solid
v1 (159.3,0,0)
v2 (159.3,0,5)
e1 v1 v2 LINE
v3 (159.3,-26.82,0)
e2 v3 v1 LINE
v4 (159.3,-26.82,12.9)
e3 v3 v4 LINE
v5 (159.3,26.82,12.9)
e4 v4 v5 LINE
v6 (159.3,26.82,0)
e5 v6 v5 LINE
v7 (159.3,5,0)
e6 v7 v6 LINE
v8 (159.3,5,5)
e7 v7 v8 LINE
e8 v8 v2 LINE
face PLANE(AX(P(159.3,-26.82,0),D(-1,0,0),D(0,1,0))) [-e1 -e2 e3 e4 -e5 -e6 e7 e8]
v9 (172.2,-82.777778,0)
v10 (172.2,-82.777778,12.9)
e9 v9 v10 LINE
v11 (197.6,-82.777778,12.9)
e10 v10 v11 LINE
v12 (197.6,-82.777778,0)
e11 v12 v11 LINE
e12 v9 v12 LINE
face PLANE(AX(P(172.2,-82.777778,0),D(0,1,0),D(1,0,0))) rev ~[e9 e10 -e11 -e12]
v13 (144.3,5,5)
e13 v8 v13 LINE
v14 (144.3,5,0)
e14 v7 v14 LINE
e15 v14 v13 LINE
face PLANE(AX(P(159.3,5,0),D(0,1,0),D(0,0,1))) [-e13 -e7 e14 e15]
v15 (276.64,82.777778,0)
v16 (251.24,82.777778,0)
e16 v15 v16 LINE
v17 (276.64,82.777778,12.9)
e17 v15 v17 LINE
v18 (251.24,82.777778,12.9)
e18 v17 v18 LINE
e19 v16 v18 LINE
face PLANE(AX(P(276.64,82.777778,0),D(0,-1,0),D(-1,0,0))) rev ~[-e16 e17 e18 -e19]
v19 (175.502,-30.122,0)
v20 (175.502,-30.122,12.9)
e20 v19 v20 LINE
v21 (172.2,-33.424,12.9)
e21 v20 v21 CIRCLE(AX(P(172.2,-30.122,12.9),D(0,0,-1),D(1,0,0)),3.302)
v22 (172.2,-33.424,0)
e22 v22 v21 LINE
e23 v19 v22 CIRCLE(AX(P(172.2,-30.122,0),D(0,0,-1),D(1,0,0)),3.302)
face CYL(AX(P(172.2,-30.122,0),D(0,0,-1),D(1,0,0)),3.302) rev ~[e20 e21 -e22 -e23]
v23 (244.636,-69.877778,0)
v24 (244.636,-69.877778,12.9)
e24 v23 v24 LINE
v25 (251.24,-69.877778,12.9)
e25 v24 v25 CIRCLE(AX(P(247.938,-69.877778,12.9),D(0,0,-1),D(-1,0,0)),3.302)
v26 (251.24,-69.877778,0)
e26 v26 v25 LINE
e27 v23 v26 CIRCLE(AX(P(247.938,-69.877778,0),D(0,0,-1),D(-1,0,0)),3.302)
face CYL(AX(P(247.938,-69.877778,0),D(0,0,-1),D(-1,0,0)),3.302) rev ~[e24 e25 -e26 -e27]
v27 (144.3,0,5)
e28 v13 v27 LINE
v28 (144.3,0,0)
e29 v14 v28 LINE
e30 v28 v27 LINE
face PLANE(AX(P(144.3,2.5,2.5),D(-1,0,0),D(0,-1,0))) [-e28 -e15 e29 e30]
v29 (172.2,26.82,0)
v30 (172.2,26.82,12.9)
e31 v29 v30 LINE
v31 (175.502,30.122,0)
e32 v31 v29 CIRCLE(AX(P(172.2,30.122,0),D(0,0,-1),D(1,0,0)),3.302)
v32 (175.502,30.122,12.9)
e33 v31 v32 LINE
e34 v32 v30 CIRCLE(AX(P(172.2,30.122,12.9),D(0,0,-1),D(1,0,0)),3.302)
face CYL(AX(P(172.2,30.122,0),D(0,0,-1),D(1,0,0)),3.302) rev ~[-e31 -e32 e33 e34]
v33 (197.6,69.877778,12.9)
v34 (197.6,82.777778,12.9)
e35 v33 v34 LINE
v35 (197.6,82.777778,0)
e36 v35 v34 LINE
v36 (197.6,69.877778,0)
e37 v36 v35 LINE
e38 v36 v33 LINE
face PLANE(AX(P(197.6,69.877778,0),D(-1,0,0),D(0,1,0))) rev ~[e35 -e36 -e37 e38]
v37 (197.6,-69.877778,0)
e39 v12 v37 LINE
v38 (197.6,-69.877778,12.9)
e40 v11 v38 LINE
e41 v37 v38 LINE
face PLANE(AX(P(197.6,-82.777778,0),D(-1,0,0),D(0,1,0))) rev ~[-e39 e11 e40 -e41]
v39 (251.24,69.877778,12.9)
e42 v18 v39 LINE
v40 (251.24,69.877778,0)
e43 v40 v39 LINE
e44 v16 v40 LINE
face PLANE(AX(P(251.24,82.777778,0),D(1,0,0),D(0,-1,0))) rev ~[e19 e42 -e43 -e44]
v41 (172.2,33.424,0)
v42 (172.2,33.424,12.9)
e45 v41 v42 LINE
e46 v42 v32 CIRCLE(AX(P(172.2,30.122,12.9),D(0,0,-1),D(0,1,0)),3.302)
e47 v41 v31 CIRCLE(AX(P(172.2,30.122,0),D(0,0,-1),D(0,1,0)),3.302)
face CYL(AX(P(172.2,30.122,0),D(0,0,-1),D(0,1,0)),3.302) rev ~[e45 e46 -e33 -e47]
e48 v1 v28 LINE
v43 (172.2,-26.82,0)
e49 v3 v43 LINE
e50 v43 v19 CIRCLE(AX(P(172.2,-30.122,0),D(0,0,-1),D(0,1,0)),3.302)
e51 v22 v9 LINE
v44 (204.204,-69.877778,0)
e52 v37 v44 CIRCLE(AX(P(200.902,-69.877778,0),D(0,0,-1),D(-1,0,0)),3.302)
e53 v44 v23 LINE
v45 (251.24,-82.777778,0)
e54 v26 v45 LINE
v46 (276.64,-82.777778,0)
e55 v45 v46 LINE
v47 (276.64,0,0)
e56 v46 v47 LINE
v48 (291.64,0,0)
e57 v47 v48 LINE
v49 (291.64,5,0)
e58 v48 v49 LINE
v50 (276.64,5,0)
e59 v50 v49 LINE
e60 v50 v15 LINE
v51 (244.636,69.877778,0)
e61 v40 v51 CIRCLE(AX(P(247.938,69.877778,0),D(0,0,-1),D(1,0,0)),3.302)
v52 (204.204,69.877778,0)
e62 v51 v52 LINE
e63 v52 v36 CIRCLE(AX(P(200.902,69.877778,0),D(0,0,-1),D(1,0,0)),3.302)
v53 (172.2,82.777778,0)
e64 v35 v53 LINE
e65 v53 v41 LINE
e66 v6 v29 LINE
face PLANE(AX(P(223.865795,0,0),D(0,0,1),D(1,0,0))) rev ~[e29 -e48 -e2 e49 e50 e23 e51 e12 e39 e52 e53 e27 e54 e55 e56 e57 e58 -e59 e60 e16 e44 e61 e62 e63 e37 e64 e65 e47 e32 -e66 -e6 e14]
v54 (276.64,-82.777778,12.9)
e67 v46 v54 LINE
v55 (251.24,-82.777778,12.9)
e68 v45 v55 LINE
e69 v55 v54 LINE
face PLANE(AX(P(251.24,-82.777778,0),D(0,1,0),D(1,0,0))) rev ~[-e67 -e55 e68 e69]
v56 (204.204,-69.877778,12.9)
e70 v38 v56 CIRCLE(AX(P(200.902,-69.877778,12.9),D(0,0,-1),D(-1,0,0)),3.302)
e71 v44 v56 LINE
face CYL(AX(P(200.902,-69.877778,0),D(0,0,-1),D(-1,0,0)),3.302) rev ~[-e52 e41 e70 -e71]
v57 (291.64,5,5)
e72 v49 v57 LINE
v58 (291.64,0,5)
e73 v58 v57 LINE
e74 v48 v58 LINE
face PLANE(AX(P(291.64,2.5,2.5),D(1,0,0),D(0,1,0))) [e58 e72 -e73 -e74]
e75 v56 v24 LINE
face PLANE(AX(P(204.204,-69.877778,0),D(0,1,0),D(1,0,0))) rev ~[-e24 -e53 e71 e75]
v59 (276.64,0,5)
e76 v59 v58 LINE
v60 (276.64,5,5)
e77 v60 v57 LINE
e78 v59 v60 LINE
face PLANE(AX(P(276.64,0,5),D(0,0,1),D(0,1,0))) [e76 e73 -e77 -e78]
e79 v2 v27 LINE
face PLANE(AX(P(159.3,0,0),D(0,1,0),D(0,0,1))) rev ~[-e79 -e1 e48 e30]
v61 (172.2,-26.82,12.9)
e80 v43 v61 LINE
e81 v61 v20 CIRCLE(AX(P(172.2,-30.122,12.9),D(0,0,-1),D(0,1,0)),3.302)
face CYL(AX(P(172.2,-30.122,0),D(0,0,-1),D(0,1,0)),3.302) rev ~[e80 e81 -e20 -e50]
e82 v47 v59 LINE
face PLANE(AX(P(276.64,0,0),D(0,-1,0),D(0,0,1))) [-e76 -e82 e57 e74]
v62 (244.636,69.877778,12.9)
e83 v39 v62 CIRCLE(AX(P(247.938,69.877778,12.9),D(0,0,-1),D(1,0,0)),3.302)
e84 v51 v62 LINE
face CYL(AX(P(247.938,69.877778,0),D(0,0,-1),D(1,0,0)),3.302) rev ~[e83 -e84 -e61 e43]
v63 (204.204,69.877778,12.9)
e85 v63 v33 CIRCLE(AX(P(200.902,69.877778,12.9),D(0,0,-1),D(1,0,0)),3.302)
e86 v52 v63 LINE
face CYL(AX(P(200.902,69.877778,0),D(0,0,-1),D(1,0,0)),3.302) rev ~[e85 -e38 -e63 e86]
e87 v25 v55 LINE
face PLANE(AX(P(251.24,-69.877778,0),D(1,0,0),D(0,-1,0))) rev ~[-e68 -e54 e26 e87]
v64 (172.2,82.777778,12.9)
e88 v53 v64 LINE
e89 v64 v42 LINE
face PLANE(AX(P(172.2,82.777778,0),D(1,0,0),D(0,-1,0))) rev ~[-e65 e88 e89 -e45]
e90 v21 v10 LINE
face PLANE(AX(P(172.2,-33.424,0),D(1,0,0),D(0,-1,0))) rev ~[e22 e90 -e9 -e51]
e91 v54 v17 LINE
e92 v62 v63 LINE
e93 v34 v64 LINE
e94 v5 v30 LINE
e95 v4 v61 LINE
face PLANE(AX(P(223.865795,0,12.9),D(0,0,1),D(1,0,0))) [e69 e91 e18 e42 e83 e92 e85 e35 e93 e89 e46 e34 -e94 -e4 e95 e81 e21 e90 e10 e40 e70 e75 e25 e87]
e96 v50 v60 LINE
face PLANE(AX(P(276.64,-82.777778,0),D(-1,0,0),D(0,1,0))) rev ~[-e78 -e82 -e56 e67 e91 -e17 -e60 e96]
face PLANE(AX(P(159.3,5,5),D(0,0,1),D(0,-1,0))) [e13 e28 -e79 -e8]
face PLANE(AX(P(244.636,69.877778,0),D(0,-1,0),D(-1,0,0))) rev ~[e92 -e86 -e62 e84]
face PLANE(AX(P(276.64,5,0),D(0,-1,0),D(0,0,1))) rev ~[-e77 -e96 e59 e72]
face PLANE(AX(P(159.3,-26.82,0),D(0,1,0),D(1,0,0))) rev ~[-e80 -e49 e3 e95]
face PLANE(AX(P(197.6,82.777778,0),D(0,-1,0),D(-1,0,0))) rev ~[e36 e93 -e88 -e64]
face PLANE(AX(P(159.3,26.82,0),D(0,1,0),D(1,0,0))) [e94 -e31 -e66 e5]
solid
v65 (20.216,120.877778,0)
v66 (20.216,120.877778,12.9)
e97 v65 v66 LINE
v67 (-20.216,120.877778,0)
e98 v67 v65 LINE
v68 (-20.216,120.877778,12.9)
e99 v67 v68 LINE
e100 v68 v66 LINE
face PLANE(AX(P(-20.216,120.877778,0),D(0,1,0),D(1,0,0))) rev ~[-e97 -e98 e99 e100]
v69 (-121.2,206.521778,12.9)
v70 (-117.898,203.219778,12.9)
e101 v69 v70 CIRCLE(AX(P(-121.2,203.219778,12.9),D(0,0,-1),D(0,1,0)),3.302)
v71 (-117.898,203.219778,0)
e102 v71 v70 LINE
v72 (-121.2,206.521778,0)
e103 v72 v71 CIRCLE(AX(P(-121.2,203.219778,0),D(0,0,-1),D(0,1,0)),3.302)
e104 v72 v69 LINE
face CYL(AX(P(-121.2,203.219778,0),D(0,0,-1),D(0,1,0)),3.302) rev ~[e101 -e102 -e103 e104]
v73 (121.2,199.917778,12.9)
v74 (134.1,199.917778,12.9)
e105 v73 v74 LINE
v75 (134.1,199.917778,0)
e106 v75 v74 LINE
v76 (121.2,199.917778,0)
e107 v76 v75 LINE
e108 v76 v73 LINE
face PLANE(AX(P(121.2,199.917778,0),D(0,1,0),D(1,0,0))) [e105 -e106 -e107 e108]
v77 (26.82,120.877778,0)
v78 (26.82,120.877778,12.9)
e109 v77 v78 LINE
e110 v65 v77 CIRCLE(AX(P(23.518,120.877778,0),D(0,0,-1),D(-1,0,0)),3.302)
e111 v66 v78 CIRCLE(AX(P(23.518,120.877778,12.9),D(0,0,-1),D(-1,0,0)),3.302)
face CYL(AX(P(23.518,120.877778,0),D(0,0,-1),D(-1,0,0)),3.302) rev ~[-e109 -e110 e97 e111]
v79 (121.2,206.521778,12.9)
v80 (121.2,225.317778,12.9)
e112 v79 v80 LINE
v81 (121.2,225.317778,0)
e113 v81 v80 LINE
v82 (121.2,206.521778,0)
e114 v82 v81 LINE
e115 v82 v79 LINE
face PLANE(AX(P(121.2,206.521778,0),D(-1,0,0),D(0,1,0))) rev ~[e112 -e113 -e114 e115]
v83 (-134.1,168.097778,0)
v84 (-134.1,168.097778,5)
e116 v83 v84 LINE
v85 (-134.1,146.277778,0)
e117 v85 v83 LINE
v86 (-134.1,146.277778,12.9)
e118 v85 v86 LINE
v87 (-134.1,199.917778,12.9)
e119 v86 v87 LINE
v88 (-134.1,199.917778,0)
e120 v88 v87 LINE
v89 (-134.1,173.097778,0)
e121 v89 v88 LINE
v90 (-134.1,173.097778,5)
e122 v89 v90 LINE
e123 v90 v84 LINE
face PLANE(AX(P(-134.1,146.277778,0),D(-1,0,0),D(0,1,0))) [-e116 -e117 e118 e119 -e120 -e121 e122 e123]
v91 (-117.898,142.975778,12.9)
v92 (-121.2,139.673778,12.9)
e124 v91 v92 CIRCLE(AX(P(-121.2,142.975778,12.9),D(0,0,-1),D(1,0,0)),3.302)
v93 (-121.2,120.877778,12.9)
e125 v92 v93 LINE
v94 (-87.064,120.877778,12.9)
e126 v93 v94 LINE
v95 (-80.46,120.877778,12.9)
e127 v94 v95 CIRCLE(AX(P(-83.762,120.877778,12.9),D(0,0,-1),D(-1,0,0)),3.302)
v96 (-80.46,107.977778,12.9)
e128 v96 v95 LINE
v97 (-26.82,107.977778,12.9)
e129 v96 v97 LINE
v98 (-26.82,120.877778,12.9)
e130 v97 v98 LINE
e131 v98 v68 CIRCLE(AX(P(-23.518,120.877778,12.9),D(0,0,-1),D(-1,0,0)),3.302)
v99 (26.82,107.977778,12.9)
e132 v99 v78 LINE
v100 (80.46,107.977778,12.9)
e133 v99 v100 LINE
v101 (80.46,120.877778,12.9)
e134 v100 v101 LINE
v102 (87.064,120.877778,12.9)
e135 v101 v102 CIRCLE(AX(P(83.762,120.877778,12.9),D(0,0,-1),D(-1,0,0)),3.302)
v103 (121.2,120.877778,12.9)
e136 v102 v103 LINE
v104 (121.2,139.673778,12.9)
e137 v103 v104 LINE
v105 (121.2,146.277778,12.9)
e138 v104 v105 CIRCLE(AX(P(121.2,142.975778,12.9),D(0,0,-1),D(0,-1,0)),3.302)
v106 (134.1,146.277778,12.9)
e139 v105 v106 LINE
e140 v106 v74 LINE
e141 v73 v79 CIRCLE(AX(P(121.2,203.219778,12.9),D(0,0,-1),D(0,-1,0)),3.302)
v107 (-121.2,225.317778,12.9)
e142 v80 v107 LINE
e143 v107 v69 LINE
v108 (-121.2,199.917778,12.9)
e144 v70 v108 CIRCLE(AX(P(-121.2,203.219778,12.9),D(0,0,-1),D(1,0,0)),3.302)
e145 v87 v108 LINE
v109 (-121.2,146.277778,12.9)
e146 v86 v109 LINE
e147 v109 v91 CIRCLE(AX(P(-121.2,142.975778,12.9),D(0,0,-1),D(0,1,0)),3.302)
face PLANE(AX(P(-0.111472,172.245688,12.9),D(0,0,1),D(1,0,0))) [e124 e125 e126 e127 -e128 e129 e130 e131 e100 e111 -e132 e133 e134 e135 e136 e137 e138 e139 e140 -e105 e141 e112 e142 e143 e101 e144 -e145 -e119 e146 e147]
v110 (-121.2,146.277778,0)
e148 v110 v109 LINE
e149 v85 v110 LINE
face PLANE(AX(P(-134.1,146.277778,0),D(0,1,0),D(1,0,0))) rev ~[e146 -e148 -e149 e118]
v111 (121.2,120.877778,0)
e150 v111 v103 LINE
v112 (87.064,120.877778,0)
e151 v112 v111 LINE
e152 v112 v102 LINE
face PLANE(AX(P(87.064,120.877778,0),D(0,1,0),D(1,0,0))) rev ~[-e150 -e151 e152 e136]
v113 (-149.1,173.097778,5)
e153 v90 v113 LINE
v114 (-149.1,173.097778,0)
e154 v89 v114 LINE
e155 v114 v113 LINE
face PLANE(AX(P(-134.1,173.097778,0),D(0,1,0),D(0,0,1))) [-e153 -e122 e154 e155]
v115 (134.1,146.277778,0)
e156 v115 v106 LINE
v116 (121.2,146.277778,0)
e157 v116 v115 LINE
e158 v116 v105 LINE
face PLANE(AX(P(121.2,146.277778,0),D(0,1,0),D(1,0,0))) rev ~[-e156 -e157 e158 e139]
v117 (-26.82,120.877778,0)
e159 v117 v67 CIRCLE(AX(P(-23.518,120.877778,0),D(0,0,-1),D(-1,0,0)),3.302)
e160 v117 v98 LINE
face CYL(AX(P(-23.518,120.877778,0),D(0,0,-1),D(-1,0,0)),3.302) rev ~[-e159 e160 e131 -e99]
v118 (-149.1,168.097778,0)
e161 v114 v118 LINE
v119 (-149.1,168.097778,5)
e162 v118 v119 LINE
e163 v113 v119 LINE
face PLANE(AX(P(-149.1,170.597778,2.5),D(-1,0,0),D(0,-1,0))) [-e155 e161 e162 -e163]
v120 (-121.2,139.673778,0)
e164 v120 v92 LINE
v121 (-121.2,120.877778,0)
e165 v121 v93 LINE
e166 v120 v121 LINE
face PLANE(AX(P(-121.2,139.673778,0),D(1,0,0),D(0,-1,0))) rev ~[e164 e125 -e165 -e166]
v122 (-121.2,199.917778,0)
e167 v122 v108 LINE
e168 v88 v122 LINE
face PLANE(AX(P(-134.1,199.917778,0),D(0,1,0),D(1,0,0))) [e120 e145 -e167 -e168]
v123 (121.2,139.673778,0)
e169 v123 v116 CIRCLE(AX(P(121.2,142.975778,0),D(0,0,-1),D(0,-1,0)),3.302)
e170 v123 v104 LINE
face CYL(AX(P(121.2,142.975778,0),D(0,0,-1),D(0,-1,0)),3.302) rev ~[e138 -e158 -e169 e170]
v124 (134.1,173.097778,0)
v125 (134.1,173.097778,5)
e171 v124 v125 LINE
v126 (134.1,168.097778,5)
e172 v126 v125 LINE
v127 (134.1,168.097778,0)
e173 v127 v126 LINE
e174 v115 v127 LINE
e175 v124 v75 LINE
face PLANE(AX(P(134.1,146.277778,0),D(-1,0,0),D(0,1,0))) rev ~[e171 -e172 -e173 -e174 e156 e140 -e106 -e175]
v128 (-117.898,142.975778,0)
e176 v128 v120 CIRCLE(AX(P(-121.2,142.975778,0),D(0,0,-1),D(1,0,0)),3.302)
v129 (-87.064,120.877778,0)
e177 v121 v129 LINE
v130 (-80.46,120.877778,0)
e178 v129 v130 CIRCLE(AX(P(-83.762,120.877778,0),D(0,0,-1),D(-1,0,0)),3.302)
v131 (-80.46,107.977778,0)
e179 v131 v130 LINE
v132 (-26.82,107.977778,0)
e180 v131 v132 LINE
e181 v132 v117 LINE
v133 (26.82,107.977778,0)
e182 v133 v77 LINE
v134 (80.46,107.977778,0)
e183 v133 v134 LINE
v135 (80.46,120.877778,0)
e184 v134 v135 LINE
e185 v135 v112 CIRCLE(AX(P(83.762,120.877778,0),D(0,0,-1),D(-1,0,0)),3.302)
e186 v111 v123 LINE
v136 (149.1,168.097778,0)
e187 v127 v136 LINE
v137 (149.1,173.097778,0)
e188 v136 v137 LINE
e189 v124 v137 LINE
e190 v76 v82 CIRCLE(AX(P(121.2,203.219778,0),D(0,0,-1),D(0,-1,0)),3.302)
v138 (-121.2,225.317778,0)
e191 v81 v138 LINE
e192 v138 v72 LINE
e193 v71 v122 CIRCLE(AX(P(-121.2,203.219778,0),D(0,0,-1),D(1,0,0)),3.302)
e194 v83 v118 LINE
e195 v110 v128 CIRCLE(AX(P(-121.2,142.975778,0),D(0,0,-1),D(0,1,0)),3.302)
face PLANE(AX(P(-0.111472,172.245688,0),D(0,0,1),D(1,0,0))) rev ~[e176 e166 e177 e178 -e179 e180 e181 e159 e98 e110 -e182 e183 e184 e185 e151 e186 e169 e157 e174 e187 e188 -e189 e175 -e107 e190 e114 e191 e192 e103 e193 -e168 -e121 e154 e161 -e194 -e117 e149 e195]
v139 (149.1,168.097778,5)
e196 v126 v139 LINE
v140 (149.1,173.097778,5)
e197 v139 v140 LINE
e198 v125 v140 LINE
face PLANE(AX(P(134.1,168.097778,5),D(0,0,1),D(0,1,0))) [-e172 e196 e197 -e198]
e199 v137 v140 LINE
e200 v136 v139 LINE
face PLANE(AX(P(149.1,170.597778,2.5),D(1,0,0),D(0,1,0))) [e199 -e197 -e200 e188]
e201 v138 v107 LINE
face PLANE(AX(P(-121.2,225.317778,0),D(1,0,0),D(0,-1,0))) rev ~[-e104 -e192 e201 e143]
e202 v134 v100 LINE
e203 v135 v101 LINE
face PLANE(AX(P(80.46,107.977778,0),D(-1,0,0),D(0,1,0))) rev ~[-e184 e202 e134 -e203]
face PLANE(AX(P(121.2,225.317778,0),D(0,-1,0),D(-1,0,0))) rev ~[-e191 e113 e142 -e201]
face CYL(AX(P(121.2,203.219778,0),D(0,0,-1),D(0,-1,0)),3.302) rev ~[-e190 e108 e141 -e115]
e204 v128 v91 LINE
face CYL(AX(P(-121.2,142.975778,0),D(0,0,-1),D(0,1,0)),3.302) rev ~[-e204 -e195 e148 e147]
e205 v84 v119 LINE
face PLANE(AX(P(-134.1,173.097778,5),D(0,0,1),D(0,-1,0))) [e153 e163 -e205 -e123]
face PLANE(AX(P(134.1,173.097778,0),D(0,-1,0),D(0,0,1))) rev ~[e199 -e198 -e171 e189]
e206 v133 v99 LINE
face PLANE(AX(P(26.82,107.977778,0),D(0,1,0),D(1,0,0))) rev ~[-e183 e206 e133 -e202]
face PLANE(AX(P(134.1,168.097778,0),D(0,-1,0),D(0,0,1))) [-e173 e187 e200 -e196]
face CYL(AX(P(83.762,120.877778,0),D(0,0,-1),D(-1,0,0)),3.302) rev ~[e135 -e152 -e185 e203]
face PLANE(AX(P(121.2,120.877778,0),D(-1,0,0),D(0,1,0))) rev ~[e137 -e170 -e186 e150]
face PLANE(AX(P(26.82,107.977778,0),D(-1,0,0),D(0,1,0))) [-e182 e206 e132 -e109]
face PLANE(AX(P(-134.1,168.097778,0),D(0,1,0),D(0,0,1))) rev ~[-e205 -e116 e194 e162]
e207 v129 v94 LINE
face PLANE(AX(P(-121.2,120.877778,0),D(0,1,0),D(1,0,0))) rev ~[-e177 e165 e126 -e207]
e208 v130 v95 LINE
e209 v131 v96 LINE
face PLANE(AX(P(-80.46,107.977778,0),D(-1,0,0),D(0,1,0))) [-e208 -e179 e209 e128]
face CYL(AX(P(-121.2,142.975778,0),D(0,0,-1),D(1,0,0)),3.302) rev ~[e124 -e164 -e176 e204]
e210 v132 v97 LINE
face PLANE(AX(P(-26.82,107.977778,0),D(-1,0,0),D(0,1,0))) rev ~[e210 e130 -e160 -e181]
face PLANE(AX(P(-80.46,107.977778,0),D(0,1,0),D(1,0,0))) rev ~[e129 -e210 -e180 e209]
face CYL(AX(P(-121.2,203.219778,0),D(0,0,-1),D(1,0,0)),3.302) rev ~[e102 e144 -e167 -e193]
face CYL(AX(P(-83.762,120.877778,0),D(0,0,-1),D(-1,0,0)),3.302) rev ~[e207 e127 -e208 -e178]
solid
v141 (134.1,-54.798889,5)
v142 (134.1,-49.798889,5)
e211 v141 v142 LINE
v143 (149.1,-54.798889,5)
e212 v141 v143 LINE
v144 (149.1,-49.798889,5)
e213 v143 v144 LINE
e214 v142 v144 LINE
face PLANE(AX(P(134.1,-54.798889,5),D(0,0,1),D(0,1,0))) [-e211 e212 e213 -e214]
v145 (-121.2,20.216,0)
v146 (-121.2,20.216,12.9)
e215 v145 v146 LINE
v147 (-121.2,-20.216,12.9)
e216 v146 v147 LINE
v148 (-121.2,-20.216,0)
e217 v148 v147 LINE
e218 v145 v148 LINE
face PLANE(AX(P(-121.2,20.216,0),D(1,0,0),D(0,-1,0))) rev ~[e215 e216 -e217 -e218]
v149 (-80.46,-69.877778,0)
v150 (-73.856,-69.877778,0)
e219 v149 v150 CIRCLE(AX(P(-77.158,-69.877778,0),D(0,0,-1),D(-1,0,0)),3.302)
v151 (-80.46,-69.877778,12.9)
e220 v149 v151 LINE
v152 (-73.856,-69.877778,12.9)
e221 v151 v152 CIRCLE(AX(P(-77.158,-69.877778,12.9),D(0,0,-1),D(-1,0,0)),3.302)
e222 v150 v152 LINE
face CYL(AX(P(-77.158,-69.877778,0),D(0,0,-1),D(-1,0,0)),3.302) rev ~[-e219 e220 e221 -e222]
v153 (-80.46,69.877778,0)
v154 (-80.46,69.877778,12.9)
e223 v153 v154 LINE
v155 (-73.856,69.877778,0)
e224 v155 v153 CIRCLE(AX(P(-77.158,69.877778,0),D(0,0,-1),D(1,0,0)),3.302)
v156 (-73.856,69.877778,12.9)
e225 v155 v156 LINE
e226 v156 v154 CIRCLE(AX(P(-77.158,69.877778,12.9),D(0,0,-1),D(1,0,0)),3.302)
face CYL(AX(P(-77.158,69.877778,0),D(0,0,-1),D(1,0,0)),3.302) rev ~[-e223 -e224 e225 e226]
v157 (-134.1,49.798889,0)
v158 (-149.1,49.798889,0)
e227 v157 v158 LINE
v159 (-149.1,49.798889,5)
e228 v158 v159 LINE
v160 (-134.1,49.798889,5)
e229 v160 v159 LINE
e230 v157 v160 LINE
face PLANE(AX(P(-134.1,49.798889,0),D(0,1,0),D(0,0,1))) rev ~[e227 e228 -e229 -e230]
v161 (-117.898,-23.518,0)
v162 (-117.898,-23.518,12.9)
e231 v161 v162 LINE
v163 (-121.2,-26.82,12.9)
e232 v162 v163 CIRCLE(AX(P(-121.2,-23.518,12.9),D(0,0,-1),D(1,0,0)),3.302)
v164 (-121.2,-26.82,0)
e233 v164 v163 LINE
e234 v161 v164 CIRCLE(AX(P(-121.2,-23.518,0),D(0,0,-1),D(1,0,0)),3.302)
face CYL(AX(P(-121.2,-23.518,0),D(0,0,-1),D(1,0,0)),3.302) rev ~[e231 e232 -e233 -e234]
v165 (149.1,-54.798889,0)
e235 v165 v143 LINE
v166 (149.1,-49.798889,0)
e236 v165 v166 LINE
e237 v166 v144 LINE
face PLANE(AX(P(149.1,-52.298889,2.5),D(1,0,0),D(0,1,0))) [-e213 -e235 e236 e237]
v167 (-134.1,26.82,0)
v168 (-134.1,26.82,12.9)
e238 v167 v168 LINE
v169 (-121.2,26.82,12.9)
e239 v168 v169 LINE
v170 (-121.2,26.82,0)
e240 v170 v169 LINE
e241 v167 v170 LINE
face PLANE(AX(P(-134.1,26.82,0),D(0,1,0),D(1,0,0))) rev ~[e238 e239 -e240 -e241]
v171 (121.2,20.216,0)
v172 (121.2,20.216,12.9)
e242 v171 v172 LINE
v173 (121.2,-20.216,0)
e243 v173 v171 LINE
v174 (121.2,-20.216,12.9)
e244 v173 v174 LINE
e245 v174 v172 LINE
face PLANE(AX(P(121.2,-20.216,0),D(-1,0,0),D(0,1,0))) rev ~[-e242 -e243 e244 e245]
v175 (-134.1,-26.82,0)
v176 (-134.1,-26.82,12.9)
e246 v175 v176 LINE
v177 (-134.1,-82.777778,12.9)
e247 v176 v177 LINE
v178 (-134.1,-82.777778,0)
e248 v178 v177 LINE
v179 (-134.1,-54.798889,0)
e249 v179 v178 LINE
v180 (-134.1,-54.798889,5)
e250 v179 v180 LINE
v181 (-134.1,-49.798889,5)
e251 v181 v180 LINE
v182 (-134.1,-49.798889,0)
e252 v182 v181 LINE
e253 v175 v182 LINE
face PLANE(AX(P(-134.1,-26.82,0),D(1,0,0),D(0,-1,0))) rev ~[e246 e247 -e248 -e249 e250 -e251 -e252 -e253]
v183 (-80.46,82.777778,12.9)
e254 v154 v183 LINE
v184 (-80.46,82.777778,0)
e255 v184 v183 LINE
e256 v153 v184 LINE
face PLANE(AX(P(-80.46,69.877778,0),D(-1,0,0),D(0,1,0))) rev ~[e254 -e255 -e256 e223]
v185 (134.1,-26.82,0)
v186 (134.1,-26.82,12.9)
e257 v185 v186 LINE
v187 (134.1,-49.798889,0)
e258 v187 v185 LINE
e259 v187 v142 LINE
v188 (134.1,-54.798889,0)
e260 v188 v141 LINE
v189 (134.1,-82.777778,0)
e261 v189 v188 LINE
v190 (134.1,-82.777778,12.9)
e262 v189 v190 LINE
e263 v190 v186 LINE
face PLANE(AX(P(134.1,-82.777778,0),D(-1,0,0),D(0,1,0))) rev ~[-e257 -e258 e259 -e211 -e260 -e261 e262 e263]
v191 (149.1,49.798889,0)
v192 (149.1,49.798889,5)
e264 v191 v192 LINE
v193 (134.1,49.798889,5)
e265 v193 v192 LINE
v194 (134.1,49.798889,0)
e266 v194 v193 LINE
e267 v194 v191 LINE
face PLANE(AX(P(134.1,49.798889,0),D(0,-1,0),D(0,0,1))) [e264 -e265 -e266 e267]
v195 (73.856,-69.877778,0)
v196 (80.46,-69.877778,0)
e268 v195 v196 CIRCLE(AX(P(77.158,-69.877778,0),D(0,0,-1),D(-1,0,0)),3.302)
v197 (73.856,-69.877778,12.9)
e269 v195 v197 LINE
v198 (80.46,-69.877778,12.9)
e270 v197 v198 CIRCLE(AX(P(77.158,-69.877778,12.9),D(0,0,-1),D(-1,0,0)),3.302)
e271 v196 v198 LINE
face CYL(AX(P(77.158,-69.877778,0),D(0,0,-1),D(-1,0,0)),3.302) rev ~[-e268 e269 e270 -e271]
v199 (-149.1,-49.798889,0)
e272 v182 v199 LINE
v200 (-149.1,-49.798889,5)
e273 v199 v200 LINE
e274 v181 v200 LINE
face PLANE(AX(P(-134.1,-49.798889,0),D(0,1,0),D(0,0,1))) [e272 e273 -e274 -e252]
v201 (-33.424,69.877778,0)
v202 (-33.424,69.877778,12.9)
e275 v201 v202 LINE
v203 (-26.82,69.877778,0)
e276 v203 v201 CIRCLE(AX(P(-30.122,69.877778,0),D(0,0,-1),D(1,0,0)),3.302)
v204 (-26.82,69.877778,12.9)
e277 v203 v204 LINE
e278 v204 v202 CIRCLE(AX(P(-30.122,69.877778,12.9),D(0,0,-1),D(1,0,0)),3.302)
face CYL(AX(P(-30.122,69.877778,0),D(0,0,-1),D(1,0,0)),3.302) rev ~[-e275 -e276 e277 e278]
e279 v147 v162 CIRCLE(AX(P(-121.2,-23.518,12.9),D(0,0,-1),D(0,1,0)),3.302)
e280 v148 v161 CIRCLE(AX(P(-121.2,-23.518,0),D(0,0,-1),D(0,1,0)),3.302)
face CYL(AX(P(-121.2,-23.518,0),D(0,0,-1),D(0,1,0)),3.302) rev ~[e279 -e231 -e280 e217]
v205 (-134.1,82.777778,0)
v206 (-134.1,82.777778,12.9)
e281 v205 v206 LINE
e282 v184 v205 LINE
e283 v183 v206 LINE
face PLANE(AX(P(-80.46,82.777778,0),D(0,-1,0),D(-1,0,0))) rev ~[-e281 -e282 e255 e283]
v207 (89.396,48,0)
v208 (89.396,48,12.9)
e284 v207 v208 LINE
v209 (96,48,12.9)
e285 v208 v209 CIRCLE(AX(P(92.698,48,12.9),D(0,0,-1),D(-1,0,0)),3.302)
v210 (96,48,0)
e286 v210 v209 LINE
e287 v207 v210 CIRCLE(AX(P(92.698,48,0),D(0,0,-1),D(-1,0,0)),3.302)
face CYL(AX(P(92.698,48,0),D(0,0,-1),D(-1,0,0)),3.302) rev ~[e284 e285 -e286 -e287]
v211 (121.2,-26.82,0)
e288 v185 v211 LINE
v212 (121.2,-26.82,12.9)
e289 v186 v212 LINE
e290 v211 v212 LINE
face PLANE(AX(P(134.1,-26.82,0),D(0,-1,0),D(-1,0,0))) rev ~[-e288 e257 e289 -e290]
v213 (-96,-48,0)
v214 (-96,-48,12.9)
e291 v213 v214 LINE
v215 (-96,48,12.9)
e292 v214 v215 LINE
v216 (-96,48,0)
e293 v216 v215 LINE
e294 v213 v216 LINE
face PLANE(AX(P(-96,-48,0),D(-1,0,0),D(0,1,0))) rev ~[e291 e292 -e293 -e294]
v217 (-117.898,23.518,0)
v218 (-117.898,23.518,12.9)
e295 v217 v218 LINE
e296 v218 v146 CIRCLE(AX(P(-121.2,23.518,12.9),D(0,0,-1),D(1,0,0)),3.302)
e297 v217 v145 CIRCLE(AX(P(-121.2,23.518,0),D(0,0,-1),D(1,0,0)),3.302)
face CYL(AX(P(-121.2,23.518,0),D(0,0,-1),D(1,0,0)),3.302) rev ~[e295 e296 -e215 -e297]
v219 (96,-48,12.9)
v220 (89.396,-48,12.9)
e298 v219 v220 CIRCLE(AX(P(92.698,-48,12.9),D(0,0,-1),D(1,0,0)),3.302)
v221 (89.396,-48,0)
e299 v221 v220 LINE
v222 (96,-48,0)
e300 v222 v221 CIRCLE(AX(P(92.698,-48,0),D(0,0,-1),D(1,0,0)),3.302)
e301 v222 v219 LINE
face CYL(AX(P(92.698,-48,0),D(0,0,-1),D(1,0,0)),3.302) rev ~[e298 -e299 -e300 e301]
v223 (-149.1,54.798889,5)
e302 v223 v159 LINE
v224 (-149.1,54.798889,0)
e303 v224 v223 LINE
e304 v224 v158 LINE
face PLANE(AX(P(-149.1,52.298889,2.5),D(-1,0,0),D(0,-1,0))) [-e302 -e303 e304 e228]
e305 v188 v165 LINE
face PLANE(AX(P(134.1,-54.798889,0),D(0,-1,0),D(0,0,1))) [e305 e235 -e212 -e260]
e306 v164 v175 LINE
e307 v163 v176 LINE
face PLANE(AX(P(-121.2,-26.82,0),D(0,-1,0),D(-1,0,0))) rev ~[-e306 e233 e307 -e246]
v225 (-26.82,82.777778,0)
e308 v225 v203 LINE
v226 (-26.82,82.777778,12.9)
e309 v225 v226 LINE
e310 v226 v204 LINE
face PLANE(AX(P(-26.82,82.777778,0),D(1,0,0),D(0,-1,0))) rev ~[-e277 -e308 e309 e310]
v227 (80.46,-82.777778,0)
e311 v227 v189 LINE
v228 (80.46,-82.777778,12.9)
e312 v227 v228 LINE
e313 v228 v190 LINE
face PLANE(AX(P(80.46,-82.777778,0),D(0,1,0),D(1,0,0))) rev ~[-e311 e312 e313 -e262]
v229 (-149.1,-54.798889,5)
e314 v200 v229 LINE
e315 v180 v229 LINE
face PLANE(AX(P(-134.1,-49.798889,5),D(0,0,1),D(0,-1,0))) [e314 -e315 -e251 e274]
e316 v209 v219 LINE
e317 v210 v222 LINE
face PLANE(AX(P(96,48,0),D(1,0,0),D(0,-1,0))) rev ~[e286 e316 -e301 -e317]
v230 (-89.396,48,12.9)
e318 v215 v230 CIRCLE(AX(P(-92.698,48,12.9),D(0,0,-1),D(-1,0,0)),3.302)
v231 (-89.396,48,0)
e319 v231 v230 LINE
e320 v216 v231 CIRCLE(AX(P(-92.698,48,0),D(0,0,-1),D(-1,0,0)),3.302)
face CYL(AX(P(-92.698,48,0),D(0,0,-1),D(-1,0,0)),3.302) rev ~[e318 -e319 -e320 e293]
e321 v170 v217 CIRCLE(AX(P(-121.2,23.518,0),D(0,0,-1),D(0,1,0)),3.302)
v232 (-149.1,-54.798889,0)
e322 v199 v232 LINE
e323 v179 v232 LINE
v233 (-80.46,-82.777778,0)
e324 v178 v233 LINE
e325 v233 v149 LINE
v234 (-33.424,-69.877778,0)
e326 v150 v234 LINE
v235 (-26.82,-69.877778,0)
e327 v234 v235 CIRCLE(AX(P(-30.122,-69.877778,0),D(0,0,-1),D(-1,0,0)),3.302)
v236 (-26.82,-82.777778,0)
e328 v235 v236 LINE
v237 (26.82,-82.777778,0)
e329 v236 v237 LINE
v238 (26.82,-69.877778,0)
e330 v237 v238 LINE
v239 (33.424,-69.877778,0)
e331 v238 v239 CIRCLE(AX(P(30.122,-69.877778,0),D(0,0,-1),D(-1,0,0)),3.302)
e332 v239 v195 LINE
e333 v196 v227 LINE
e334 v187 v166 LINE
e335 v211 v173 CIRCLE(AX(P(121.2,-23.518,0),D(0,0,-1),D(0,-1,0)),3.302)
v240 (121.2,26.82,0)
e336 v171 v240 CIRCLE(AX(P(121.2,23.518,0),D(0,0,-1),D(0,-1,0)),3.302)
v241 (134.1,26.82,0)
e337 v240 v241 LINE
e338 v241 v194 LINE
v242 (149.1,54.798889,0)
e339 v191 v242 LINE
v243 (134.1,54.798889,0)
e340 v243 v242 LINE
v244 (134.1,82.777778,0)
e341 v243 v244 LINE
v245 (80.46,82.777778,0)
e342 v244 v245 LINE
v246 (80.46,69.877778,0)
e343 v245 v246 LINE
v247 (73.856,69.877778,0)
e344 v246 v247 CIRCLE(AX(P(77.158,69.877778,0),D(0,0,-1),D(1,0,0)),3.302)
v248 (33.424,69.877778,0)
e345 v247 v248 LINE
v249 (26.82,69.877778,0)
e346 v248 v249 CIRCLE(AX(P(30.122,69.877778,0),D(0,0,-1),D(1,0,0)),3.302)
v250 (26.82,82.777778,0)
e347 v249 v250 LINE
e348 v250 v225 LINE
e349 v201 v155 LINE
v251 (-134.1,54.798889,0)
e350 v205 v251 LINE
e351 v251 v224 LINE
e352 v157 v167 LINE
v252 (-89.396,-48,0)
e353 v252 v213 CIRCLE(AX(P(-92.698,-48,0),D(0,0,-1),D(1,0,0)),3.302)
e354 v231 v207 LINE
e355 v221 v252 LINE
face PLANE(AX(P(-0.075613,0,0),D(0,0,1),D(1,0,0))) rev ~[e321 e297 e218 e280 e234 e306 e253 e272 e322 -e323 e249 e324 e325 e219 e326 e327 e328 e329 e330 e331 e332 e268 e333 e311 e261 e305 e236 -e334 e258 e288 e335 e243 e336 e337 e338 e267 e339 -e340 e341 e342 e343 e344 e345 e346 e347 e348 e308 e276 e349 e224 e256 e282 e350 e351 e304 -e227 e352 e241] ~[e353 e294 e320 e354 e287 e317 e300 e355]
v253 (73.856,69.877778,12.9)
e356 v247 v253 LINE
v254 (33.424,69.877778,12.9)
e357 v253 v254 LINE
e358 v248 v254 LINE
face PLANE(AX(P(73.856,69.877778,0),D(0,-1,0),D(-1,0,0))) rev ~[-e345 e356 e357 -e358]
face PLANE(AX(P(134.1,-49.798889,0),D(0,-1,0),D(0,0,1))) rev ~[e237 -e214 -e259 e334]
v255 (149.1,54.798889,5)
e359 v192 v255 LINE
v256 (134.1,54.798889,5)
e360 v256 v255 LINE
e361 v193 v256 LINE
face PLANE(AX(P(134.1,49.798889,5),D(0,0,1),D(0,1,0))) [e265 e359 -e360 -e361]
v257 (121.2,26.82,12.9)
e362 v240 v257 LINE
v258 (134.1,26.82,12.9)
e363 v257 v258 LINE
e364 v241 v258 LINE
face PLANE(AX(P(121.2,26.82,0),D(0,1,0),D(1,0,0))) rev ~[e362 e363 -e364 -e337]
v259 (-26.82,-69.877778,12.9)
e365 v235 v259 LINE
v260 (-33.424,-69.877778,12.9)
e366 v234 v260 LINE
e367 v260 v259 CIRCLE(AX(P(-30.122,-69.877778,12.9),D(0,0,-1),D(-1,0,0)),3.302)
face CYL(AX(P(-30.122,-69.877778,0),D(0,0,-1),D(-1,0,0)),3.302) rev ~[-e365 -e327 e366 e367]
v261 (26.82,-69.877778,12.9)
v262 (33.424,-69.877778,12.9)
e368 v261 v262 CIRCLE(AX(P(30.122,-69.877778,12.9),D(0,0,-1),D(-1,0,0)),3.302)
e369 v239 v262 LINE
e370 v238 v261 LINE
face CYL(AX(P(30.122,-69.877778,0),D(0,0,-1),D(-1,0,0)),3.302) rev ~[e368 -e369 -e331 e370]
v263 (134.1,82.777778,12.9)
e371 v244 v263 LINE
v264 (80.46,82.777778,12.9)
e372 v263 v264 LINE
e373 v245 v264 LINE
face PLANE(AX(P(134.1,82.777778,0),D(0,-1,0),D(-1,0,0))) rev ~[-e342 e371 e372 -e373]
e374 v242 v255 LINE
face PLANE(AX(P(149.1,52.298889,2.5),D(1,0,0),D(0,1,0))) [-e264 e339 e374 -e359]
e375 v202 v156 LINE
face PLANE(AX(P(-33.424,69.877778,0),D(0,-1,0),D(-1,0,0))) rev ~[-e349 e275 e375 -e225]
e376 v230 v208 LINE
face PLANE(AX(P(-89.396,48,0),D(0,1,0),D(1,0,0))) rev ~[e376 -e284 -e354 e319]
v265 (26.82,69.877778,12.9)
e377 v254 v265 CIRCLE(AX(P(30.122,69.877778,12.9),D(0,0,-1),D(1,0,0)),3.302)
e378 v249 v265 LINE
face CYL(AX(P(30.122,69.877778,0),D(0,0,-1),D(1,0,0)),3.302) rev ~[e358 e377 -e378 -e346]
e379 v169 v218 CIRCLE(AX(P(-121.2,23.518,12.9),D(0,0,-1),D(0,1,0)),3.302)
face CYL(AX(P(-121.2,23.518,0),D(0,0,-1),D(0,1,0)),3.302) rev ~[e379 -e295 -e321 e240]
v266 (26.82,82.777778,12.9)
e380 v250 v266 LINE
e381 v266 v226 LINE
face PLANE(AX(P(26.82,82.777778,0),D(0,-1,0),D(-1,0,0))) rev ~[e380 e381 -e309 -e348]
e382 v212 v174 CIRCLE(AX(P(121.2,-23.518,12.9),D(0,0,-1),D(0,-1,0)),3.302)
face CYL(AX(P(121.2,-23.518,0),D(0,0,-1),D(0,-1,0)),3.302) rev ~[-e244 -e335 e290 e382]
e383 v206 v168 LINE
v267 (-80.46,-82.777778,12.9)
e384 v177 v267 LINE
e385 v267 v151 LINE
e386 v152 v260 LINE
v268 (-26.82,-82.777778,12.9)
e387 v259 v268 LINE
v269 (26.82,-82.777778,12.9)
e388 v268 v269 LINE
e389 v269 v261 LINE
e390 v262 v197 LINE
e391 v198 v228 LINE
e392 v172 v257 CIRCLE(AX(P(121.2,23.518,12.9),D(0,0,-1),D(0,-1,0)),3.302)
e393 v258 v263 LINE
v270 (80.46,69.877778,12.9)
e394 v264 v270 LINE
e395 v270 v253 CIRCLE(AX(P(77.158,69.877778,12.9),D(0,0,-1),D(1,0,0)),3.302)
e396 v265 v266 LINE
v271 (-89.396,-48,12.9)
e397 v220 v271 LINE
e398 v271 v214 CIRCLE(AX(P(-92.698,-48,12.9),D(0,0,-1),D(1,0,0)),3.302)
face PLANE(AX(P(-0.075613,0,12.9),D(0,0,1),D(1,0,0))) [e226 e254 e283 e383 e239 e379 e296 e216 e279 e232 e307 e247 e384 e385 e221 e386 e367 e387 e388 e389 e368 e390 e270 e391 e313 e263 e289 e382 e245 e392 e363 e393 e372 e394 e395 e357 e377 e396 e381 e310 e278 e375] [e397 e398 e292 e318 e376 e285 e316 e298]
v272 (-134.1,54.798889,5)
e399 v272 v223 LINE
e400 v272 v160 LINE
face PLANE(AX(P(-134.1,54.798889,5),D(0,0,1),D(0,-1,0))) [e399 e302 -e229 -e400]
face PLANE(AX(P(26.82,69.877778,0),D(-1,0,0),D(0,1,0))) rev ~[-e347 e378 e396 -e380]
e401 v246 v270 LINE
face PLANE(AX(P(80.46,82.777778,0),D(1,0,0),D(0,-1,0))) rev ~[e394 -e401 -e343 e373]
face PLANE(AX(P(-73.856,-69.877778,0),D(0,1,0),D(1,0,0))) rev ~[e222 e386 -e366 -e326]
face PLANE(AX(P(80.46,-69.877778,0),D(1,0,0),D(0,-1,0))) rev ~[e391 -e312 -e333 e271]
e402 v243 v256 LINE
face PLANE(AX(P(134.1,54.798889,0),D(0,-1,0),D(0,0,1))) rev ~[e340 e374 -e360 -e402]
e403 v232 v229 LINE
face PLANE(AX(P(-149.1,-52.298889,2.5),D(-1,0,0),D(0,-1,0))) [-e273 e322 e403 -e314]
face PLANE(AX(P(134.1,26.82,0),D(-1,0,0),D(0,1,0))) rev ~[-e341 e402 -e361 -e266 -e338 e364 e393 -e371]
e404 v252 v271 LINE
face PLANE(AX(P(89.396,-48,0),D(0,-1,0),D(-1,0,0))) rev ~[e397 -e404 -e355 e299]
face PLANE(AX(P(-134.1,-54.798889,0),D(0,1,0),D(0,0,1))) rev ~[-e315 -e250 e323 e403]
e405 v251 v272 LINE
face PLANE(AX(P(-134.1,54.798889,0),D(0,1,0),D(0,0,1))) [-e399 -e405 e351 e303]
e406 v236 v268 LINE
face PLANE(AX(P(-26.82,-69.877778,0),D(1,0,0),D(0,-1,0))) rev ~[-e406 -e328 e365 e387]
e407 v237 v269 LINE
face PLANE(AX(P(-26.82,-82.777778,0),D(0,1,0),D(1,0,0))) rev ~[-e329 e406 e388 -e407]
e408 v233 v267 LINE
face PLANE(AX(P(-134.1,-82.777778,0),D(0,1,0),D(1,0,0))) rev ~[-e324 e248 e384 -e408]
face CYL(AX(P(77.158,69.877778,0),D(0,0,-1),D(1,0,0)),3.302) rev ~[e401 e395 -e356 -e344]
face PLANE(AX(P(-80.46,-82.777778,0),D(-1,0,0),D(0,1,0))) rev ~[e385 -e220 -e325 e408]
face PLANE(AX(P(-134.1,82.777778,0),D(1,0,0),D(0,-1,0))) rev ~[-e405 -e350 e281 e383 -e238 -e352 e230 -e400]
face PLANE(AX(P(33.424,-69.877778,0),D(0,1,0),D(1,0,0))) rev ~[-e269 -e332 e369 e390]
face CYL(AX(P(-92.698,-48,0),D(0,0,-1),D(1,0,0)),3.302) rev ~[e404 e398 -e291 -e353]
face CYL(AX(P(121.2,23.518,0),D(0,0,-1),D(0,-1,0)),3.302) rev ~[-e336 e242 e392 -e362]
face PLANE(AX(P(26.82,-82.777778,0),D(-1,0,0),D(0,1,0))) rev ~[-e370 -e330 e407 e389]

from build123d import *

# Parameters (mm, degrees)
F2_DEPTH  = 12.9
F1_W      = 12.9
F1_H      = 53.64
F1_W_2    = 53.64
F1_H_2    = 12.9
F3_DEPTH  = 12.9
F4_DEPTH  = 12.9
F5_W      = 5
F5_H      = 5
F6_DEPTH  = 15
F7_W      = 5
F7_H      = 5
F8_DEPTH  = 15
F9_W      = 5
F9_H      = 5
F10_DEPTH = 15
F11_W     = 5
F11_H     = 5
F12_DEPTH = 15
F13_W     = 5
F13_H     = 5
F14_DEPTH = 15
F15_W     = 5
F15_H     = 5
F16_DEPTH = 15
F17_W     = 5
F17_H     = 5
F18_DEPTH = 15
F19_W     = 5
F19_H     = 5
F20_DEPTH = 15


with BuildPart() as f2:
    # F1 (on Top) → F2 (new body)
    with BuildSketch(Plane.XY):
        with BuildLine():
            Line((-80.46, 82.7777777778), (-134.1, 82.7777777778))
            Line((-134.1, 82.7777777778), (-134.1, 26.82))
            Line((-134.1, 26.82), (-121.2, 26.82))
            ThreePointArc((-121.2, 26.82), (-118.8651334085, 25.8528665915), (-117.898, 23.518))
            ThreePointArc((-117.898, 23.518), (-118.8651334085, 21.1831334085), (-121.2, 20.216))
            Line((-121.2, 20.216), (-121.2, -20.216))
            ThreePointArc((-121.2, -20.216), (-118.8651334085, -21.1831334085), (-117.898, -23.518))
            ThreePointArc((-117.898, -23.518), (-118.8651334085, -25.8528665915), (-121.2, -26.82))
            Line((-121.2, -26.82), (-134.1, -26.82))
            Line((-134.1, -26.82), (-134.1, -82.7777777778))
            Line((-134.1, -82.7777777778), (-80.46, -82.7777777778))
            Line((-80.46, -82.7777777778), (-80.46, -69.8777777778))
            ThreePointArc((-80.46, -69.8777777778), (-77.158, -66.5757777778), (-73.856, -69.8777777778))
            Line((-73.856, -69.8777777778), (-33.424, -69.8777777778))
            ThreePointArc((-33.424, -69.8777777778), (-30.122, -66.5757777778), (-26.82, -69.8777777778))
            Line((-26.82, -69.8777777778), (-26.82, -82.7777777778))
            Line((-26.82, -82.7777777778), (26.82, -82.7777777778))
            Line((26.82, -82.7777777778), (26.82, -69.8777777778))
            ThreePointArc((26.82, -69.8777777778), (30.122, -66.5757777778), (33.424, -69.8777777778))
            Line((33.424, -69.8777777778), (73.856, -69.8777777778))
            ThreePointArc((73.856, -69.8777777778), (77.158, -66.5757777778), (80.46, -69.8777777778))
            Line((80.46, -69.8777777778), (80.46, -82.7777777778))
            Line((80.46, -82.7777777778), (134.1, -82.7777777778))
            Line((134.1, -82.7777777778), (134.1, -26.82))
            Line((134.1, -26.82), (121.2, -26.82))
            ThreePointArc((121.2, -26.82), (117.898, -23.518), (121.2, -20.216))
            Line((121.2, -20.216), (121.2, 20.216))
            ThreePointArc((121.2, 20.216), (117.898, 23.518), (121.2, 26.82))
            Line((121.2, 26.82), (134.1, 26.82))
            Line((134.1, 26.82), (134.1, 82.7777777778))
            Line((134.1, 82.7777777778), (80.46, 82.7777777778))
            Line((80.46, 82.7777777778), (80.46, 69.8777777778))
            ThreePointArc((80.46, 69.8777777778), (77.158, 66.5757777778), (73.856, 69.8777777778))
            Line((73.856, 69.8777777778), (33.424, 69.8777777778))
            ThreePointArc((33.424, 69.8777777778), (30.122, 66.5757777778), (26.82, 69.8777777778))
            Line((26.82, 69.8777777778), (26.82, 82.7777777778))
            Line((26.82, 82.7777777778), (-26.82, 82.7777777778))
            Line((-26.82, 82.7777777778), (-26.82, 69.8777777778))
            ThreePointArc((-26.82, 69.8777777778), (-30.122, 66.5757777778), (-33.424, 69.8777777778))
            Line((-33.424, 69.8777777778), (-73.856, 69.8777777778))
            ThreePointArc((-73.856, 69.8777777778), (-77.158, 66.5757777778), (-80.46, 69.8777777778))
            Line((-80.46, 69.8777777778), (-80.46, 82.7777777778))
        make_face()
        with BuildLine():
            Line((89.396, -48), (-89.396, -48))
            ThreePointArc((-89.396, -48), (-92.698, -51.302), (-96, -48))
            Line((-96, -48), (-96, 48))
            ThreePointArc((-96, 48), (-92.698, 51.302), (-89.396, 48))
            Line((-89.396, 48), (89.396, 48))
            ThreePointArc((89.396, 48), (92.698, 51.302), (96, 48))
            Line((96, 48), (96, -48))
            ThreePointArc((96, -48), (92.698, -51.302), (89.396, -48))
        make_face(mode=Mode.SUBTRACT)
    extrude(amount=F2_DEPTH)

    # F5 (on face) → F6 (join)
    with BuildSketch(Plane(origin=(-134.1, 0, 0), x_dir=(0, -1, 0), z_dir=(-1, 0, 0))):
        with Locations((-52.2988888889, 2.5)):
            Rectangle(F5_W, F5_H)
    extrude(amount=F6_DEPTH)

    # F7 (on face) → F8 (join)
    with BuildSketch(Plane(origin=(-134.1, 0, 0), x_dir=(0, -1, 0), z_dir=(-1, 0, 0))):
        with Locations((52.2988888889, 2.5)):
            Rectangle(F7_W, F7_H)
    extrude(amount=F8_DEPTH)

    # F9 (on face) → F10 (join)
    with BuildSketch(Plane.YZ.offset(134.1)):
        with Locations((-52.2988888889, 2.5)):
            Rectangle(F9_W, F9_H)
    extrude(amount=F10_DEPTH)

    # F11 (on face) → F12 (join)
    with BuildSketch(Plane.YZ.offset(134.1)):
        with Locations((52.2988888889, 2.5)):
            Rectangle(F11_W, F11_H)
    extrude(amount=F12_DEPTH)


with BuildPart() as f3:
    # F1 (on Top) → F3 (new body)
    with BuildSketch(Plane.XY):
        with BuildLine():
            ThreePointArc((-87.064, 120.8777777778), (-83.762, 124.1797777778), (-80.46, 120.8777777778))
            Line((-80.46, 120.8777777778), (-26.82, 120.8777777778))
            ThreePointArc((-26.82, 120.8777777778), (-23.518, 124.1797777778), (-20.216, 120.8777777778))
            Line((-20.216, 120.8777777778), (20.216, 120.8777777778))
            ThreePointArc((20.216, 120.8777777778), (23.518, 124.1797777778), (26.82, 120.8777777778))
            Line((26.82, 120.8777777778), (80.46, 120.8777777778))
            ThreePointArc((80.46, 120.8777777778), (83.762, 124.1797777778), (87.064, 120.8777777778))
            Line((87.064, 120.8777777778), (121.2, 120.8777777778))
            Line((121.2, 120.8777777778), (121.2, 139.6737777778))
            ThreePointArc((121.2, 139.6737777778), (117.898, 142.9757777778), (121.2, 146.2777777778))
            Line((121.2, 146.2777777778), (121.2, 199.9177777778))
            ThreePointArc((121.2, 199.9177777778), (117.898, 203.2197777778), (121.2, 206.5217777778))
            Line((121.2, 206.5217777778), (121.2, 225.3177777778))
            Line((121.2, 225.3177777778), (-121.2, 225.3177777778))
            Line((-121.2, 225.3177777778), (-121.2, 206.5217777778))
            ThreePointArc((-121.2, 206.5217777778), (-118.8651334085, 205.5546443693), (-117.898, 203.2197777778))
            ThreePointArc((-117.898, 203.2197777778), (-118.8651334085, 200.8849111863), (-121.2, 199.9177777778))
            Line((-121.2, 199.9177777778), (-121.2, 146.2777777778))
            ThreePointArc((-121.2, 146.2777777778), (-118.8651334085, 145.3106443693), (-117.898, 142.9757777778))
            ThreePointArc((-117.898, 142.9757777778), (-118.8651334085, 140.6409111863), (-121.2, 139.6737777778))
            Line((-121.2, 139.6737777778), (-121.2, 120.8777777778))
            Line((-121.2, 120.8777777778), (-87.064, 120.8777777778))
        make_face()
        with Locations((-127.65, 173.0977777778)):
            Rectangle(F1_W, F1_H)
        with Locations((-53.64, 114.4277777778)):
            Rectangle(F1_W_2, F1_H_2)
        with Locations((53.64, 114.4277777778)):
            Rectangle(F1_W_2, F1_H_2)
        with Locations((127.65, 173.0977777778)):
            Rectangle(F1_W, F1_H)
    extrude(amount=F3_DEPTH)

    # F13 (on face) → F14 (join)
    with BuildSketch(Plane(origin=(-134.1, 0, 0), x_dir=(0, -1, 0), z_dir=(-1, 0, 0))):
        with Locations((-170.5977777778, 2.5)):
            Rectangle(F13_W, F13_H)
    extrude(amount=F14_DEPTH)

    # F15 (on face) → F16 (join)
    with BuildSketch(Plane.YZ.offset(134.1)):
        with Locations((170.5977777778, 2.5)):
            Rectangle(F15_W, F15_H)
    extrude(amount=F16_DEPTH)


with BuildPart() as f4:
    # F1 (on Top) → F4 (new body)
    with BuildSketch(Plane.XY):
        with BuildLine():
            ThreePointArc((175.502, 30.122), (174.5348665915, 27.7871334085), (172.2, 26.82))
            Line((172.2, 26.82), (172.2, -26.82))
            ThreePointArc((172.2, -26.82), (174.5348665915, -27.7871334085), (175.502, -30.122))
            ThreePointArc((175.502, -30.122), (174.5348665915, -32.4568665915), (172.2, -33.424))
            Line((172.2, -33.424), (172.2, -82.7777777778))
            Line((172.2, -82.7777777778), (197.6, -82.7777777778))
            Line((197.6, -82.7777777778), (197.6, -69.8777777778))
            ThreePointArc((197.6, -69.8777777778), (200.902, -66.5757777778), (204.204, -69.8777777778))
            Line((204.204, -69.8777777778), (244.636, -69.8777777778))
            ThreePointArc((244.636, -69.8777777778), (247.938, -66.5757777778), (251.24, -69.8777777778))
            Line((251.24, -69.8777777778), (251.24, -82.7777777778))
            Line((251.24, -82.7777777778), (276.64, -82.7777777778))
            Line((276.64, -82.7777777778), (276.64, 82.7777777778))
            Line((276.64, 82.7777777778), (251.24, 82.7777777778))
            Line((251.24, 82.7777777778), (251.24, 69.8777777778))
            ThreePointArc((251.24, 69.8777777778), (247.938, 66.5757777778), (244.636, 69.8777777778))
            Line((244.636, 69.8777777778), (204.204, 69.8777777778))
            ThreePointArc((204.204, 69.8777777778), (200.902, 66.5757777778), (197.6, 69.8777777778))
            Line((197.6, 69.8777777778), (197.6, 82.7777777778))
            Line((197.6, 82.7777777778), (172.2, 82.7777777778))
            Line((172.2, 82.7777777778), (172.2, 33.424))
            ThreePointArc((172.2, 33.424), (174.5348665915, 32.4568665915), (175.502, 30.122))
        make_face()
        with Locations((165.75, 0)):
            Rectangle(F1_W, F1_H)
    extrude(amount=F4_DEPTH)

    # F17 (on face) → F18 (join)
    with BuildSketch(Plane(origin=(159.3, 0, 0), x_dir=(0, -1, 0), z_dir=(-1, 0, 0))):
        with Locations((-2.5, 2.5)):
            Rectangle(F17_W, F17_H)
    extrude(amount=F18_DEPTH)

    # F19 (on face) → F20 (join)
    with BuildSketch(Plane.YZ.offset(276.64)):
        with Locations((2.5, 2.5)):
            Rectangle(F19_W, F19_H)
    extrude(amount=F20_DEPTH)


solid = Compound([f2.part, f3.part, f4.part])
